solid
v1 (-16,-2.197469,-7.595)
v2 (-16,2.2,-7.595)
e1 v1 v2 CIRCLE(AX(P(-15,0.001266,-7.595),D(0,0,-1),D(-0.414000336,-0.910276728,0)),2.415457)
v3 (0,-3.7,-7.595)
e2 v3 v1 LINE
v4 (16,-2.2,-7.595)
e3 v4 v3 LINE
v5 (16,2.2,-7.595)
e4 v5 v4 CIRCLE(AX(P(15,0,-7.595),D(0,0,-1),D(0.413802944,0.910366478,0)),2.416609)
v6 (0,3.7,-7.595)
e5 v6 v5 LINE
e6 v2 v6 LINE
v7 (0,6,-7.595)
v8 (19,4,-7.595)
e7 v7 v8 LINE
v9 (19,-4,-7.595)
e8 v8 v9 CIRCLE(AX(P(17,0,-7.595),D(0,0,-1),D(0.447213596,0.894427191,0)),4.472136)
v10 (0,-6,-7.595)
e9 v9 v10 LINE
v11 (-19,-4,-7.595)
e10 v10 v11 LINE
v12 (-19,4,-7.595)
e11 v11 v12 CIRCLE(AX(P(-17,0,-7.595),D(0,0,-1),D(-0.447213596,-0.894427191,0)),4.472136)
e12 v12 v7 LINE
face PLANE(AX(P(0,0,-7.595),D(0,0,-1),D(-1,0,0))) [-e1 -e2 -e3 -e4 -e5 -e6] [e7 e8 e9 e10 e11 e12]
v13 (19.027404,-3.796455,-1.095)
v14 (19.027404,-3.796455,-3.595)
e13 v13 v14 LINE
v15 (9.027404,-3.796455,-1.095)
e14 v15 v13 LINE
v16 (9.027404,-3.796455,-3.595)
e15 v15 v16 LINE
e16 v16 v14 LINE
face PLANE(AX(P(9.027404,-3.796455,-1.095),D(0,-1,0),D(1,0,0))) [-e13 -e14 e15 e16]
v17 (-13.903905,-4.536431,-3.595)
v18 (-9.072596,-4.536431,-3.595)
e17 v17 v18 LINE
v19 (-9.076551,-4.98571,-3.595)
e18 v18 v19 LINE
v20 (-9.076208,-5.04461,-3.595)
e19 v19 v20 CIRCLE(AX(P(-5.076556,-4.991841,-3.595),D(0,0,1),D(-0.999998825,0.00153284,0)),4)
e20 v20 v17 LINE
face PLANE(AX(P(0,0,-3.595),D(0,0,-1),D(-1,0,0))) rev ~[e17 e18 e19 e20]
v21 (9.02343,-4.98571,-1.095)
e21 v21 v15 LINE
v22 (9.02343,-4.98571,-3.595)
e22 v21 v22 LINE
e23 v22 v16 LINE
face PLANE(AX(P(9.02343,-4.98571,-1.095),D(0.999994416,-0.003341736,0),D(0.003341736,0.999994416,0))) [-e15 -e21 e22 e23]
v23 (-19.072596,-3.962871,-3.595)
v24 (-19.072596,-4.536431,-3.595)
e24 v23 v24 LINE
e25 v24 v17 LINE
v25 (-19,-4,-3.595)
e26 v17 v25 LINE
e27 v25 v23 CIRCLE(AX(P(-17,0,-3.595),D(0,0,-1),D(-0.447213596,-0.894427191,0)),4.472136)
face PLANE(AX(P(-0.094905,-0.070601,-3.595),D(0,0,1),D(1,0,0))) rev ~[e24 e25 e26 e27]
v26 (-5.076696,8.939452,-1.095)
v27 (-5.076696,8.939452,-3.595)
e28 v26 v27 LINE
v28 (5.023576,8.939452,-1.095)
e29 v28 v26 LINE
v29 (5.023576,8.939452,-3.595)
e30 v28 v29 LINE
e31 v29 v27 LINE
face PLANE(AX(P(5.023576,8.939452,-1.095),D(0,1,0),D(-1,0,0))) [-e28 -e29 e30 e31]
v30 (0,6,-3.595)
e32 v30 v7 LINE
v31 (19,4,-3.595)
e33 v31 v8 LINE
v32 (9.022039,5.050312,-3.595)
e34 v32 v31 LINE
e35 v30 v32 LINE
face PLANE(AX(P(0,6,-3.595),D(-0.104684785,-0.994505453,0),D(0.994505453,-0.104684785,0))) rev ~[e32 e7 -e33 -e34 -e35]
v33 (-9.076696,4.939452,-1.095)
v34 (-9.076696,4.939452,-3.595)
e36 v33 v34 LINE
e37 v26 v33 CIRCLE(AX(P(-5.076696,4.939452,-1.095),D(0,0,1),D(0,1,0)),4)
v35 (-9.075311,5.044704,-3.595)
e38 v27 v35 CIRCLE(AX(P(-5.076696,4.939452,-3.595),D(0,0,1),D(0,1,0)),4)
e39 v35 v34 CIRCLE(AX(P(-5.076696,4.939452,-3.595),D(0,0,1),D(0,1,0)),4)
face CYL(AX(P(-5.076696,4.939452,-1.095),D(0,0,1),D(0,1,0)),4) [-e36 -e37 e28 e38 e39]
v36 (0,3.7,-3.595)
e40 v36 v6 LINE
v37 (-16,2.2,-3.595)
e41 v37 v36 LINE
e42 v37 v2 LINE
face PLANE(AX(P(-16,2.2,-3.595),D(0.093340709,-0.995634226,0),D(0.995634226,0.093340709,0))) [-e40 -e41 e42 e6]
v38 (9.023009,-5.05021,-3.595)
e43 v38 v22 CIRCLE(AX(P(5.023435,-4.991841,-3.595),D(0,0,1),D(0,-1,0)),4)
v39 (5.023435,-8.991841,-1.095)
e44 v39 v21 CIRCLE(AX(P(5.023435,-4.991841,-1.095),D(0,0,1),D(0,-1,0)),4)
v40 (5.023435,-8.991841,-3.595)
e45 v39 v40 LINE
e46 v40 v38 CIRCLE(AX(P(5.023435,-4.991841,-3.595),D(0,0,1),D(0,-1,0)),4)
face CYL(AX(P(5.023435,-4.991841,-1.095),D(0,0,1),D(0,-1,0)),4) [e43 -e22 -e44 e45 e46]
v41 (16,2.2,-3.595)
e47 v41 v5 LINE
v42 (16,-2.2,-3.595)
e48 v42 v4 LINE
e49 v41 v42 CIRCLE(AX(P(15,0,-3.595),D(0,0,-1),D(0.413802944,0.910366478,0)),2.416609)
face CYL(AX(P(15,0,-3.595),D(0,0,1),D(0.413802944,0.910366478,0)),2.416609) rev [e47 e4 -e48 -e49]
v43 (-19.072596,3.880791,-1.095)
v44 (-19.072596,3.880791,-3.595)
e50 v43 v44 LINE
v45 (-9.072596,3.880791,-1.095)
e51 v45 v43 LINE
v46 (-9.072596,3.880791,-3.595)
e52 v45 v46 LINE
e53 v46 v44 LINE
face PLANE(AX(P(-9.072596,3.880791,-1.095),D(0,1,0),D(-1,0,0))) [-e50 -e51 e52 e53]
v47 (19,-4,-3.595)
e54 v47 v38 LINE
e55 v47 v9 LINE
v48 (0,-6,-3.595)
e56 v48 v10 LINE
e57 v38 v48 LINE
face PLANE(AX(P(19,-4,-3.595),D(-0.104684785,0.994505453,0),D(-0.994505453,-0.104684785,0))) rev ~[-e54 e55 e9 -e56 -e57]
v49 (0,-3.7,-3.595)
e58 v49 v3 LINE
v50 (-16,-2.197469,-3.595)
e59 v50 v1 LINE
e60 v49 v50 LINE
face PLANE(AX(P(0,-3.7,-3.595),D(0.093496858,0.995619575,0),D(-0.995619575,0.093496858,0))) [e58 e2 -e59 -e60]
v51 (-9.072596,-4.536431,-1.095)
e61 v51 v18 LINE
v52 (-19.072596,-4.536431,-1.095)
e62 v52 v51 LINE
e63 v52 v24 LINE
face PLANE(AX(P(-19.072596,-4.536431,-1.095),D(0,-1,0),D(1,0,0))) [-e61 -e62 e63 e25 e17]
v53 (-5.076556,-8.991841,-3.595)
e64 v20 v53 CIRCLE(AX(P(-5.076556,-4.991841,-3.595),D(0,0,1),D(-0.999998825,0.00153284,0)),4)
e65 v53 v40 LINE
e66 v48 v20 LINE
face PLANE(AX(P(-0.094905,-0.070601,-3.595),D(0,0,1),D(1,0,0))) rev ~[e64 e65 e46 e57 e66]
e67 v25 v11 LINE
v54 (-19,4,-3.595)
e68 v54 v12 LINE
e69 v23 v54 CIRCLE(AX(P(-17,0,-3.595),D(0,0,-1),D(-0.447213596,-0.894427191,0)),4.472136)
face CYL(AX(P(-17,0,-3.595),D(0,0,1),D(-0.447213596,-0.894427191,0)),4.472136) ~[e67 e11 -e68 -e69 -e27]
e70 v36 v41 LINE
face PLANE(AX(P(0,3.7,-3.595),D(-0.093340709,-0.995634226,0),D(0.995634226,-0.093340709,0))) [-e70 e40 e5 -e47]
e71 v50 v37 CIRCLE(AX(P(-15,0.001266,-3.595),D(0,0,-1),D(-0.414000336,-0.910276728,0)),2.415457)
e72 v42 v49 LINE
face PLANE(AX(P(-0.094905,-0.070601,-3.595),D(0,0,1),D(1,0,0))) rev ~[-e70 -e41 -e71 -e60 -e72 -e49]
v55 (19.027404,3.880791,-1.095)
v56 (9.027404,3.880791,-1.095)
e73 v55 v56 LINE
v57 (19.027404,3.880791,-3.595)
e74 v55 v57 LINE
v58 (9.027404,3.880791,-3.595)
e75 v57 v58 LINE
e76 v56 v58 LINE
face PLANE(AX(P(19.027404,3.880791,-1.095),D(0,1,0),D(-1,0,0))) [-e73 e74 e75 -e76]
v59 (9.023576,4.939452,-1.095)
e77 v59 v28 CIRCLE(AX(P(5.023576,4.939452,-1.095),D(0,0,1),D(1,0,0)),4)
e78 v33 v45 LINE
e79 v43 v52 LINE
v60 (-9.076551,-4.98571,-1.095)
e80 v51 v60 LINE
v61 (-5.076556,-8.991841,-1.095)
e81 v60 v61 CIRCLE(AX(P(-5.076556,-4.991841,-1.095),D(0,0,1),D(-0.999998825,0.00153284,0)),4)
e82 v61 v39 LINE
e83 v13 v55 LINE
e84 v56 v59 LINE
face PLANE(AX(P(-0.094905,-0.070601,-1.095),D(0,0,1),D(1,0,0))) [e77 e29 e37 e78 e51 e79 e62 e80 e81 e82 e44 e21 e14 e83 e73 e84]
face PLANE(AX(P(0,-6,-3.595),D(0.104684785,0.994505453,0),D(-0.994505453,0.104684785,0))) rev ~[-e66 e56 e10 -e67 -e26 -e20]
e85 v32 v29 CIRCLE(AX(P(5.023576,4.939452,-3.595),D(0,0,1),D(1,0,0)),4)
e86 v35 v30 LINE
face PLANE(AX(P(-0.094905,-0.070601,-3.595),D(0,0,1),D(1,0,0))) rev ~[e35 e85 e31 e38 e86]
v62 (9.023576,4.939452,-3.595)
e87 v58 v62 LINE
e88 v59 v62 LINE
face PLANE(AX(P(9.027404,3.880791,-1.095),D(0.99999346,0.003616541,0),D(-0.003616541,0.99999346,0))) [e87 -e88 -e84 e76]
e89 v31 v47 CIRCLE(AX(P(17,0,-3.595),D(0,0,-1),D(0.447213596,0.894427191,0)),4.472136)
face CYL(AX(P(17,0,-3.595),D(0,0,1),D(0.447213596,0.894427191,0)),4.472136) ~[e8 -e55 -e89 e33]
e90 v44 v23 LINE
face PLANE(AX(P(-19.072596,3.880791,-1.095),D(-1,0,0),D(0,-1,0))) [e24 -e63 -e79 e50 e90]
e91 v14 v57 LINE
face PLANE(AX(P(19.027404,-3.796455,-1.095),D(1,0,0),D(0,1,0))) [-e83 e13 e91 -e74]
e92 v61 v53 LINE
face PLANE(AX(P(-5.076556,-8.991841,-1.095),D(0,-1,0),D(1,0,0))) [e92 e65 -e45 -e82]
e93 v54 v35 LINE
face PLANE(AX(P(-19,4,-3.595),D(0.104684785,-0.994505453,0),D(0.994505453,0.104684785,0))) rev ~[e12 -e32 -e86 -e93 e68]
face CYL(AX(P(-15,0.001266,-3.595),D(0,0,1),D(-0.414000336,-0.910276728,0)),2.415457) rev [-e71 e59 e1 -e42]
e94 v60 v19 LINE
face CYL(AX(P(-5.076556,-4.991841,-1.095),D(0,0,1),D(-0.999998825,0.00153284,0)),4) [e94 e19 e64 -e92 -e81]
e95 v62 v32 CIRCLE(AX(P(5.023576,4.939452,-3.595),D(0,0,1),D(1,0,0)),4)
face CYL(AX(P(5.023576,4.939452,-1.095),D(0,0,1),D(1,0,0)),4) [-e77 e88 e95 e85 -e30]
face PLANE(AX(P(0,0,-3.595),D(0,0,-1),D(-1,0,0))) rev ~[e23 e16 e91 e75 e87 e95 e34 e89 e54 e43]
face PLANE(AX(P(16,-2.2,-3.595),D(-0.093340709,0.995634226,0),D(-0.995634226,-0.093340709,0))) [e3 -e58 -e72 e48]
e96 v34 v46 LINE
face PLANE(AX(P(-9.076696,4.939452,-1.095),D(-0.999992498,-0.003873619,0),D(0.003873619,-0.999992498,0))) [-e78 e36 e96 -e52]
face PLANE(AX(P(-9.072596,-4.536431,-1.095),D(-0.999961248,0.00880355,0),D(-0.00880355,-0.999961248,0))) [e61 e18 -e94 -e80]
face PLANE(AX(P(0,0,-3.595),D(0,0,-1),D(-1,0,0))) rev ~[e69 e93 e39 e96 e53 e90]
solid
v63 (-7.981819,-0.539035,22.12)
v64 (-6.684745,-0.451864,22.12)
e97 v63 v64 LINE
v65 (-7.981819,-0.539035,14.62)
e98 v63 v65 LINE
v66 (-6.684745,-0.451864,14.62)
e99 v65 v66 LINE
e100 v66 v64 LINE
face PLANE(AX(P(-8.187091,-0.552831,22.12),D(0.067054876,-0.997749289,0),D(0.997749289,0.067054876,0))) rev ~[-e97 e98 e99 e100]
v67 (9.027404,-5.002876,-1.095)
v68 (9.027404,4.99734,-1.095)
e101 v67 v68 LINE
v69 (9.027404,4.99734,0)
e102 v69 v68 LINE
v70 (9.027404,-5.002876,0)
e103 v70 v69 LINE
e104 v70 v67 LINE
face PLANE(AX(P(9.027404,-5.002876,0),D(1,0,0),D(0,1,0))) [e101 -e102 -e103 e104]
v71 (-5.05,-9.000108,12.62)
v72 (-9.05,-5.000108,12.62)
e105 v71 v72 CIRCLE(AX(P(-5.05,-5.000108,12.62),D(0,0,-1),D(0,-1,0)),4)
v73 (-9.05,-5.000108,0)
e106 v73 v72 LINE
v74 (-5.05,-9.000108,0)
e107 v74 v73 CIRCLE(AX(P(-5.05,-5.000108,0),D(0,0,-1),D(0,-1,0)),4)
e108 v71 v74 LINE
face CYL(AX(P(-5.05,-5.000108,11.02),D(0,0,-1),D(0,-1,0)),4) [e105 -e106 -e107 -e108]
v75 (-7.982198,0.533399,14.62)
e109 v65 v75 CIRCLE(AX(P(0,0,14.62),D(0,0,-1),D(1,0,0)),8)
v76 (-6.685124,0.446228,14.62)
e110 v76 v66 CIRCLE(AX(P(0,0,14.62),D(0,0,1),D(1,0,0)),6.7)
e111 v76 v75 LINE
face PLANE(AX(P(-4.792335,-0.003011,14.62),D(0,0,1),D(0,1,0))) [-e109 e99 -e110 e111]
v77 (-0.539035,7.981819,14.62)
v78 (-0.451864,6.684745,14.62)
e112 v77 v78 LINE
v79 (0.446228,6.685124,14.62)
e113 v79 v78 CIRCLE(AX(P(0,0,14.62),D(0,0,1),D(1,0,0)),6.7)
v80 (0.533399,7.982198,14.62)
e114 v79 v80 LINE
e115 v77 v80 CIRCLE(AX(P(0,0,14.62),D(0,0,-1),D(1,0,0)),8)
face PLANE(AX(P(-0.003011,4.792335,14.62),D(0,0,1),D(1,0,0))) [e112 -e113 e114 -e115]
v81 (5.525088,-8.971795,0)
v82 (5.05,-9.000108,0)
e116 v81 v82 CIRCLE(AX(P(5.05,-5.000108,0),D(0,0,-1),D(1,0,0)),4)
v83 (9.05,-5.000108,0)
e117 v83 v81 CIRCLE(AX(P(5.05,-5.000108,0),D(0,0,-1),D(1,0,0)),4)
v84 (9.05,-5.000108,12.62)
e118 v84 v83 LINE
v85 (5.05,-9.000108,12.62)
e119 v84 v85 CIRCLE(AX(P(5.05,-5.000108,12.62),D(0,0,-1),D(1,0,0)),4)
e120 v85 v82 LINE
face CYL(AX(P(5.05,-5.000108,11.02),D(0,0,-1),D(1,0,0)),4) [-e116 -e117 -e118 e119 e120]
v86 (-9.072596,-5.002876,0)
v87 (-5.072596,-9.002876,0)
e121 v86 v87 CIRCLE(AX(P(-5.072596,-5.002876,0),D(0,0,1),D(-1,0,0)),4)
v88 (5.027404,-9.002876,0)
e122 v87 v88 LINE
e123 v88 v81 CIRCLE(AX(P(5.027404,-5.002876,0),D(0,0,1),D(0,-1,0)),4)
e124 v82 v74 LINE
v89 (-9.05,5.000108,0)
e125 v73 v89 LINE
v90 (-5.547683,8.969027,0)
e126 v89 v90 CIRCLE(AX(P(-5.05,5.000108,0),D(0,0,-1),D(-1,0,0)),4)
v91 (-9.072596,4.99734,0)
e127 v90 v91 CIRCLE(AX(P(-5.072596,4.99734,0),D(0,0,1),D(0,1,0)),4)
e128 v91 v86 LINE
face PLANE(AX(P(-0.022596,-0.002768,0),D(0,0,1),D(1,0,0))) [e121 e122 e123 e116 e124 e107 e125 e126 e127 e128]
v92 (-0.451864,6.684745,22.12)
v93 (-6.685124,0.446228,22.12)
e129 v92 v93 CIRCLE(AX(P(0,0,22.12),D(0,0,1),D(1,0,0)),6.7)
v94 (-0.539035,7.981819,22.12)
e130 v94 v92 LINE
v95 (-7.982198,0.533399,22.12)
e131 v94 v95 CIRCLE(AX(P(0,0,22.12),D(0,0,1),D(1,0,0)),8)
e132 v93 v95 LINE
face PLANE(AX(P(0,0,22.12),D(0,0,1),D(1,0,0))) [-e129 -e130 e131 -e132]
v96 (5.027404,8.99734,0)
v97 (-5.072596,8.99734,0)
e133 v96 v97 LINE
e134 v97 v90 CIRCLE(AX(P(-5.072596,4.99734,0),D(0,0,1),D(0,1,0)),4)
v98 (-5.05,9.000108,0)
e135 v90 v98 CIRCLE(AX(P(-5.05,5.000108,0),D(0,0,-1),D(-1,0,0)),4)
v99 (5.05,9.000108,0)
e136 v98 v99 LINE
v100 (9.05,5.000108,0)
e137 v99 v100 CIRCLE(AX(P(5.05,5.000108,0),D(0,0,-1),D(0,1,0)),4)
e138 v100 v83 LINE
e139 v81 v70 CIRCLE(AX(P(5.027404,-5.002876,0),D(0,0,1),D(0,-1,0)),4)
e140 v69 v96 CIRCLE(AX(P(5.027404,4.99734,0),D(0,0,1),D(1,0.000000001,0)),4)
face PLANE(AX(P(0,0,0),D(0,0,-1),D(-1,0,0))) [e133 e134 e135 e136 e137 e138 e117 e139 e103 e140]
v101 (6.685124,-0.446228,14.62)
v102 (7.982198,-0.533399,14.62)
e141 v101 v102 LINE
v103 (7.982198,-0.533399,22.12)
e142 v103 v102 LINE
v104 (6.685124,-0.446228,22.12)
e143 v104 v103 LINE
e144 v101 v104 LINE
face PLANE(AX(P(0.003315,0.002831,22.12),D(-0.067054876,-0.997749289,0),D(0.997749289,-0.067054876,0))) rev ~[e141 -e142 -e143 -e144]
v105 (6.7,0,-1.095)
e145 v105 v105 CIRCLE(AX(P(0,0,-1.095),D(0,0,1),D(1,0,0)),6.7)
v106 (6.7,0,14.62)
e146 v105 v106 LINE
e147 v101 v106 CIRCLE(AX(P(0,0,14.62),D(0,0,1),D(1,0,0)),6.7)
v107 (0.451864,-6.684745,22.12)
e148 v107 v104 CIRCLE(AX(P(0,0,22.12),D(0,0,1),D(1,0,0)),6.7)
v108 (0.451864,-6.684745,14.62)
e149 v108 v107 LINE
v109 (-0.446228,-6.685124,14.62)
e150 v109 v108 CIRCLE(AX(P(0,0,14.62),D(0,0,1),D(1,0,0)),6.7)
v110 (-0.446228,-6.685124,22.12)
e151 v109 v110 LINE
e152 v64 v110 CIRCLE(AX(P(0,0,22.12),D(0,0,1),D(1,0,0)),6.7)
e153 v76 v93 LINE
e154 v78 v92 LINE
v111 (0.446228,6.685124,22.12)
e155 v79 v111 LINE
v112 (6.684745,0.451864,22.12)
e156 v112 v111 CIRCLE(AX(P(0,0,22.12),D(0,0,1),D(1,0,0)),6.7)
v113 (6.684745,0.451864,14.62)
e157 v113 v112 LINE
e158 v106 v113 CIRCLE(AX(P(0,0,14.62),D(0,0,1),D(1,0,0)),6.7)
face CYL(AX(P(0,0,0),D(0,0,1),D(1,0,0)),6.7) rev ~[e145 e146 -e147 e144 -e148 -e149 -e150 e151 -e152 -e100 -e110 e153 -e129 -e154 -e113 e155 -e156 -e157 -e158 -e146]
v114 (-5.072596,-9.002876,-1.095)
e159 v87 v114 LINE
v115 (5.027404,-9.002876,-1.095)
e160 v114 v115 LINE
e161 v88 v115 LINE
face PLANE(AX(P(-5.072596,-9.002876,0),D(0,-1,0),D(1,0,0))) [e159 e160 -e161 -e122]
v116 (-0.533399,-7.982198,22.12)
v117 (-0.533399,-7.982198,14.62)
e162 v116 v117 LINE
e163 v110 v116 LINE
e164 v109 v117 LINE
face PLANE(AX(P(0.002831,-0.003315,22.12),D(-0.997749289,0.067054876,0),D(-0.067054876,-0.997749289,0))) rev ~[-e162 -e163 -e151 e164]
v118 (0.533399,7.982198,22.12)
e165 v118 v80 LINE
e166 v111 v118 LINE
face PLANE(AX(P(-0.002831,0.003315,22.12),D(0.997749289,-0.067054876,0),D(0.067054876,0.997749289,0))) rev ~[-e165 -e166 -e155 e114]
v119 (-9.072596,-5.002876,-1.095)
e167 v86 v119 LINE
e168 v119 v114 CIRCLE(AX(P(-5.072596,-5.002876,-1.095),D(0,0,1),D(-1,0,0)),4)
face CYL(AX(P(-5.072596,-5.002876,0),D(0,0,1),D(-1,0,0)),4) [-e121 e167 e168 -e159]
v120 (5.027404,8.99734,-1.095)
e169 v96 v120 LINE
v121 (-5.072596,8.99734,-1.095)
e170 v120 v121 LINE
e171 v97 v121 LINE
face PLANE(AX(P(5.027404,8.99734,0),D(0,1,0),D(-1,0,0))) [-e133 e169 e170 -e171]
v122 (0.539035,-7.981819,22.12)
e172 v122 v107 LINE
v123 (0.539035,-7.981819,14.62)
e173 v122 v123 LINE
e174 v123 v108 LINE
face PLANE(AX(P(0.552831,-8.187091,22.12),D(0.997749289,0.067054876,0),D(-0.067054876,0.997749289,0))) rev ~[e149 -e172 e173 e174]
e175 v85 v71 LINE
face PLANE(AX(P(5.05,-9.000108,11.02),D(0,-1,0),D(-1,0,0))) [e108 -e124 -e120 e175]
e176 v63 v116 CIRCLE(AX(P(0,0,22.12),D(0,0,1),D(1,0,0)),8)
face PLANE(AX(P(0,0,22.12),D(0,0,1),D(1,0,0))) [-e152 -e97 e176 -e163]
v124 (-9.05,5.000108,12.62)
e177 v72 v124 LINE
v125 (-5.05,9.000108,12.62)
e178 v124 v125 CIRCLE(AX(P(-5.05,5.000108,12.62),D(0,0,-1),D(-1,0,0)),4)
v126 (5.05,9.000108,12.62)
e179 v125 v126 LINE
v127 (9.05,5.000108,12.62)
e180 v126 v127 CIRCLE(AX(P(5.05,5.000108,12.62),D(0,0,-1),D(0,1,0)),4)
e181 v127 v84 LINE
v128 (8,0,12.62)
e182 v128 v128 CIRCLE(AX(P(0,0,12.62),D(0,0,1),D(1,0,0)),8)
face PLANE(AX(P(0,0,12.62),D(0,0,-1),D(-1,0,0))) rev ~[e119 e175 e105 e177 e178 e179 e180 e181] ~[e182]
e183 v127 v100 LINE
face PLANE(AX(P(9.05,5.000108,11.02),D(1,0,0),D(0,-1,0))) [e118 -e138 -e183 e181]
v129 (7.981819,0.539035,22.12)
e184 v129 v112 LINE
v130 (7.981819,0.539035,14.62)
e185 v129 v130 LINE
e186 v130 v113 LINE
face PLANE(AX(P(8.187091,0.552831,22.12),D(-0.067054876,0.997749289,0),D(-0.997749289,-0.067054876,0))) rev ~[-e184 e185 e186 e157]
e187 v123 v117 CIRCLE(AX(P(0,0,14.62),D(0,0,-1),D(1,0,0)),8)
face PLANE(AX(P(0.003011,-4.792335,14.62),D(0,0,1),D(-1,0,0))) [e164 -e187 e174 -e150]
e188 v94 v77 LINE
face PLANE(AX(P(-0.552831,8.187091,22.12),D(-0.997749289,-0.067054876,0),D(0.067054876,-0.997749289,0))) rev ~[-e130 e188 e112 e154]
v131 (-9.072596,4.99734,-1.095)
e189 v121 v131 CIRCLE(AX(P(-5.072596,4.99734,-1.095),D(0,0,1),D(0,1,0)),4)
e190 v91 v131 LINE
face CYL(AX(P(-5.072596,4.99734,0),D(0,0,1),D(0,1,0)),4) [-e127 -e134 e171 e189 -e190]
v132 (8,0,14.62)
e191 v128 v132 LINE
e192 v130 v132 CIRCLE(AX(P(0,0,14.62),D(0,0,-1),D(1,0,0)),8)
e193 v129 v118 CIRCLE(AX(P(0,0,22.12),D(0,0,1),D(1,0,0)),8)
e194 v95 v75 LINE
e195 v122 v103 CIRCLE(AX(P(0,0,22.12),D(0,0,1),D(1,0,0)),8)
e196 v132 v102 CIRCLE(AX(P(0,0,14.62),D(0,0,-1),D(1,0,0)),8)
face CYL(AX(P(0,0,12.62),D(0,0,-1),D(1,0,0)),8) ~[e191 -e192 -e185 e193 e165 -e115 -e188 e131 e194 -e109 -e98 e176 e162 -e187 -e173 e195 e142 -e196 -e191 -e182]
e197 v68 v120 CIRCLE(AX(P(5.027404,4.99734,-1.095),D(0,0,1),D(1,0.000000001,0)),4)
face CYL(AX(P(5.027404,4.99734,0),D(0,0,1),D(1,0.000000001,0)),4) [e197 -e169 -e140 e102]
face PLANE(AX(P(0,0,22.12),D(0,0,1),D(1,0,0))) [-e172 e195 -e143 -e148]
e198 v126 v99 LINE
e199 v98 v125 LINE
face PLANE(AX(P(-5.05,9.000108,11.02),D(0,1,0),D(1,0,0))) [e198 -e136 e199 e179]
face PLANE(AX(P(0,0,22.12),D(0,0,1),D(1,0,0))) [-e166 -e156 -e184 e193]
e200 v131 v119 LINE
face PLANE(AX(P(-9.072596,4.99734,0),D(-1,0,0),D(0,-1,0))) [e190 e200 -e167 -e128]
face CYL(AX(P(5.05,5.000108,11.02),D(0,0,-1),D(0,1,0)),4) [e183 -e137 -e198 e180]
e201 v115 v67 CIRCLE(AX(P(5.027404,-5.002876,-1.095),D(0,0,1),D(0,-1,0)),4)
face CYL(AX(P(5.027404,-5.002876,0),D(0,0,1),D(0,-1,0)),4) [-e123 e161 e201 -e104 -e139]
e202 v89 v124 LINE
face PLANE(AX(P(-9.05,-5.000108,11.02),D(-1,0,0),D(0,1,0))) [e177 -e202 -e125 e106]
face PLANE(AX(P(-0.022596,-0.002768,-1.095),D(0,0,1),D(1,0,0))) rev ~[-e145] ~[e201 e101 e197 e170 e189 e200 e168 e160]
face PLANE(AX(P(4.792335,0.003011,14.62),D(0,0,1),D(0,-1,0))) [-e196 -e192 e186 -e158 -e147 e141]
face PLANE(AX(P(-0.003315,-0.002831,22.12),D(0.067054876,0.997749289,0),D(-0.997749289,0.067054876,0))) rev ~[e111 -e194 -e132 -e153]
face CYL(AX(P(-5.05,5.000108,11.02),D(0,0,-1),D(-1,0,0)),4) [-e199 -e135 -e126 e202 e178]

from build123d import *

# Parameters (mm, degrees)
BOSS_EXTRUDE1_DEPTH = 2
BOSS_EXTRUDE2_DEPTH = 11.02
BOSS_EXTRUDE3_DEPTH = 1.6
SKETCH4_R           = 8
BOSS_EXTRUDE4_DEPTH = 9.5
SKETCH5_R           = 6.65
CUT_EXTRUDE1_DEPTH  = 20
BOSS_EXTRUDE5_DEPTH = 1.095
SKETCH13_R          = 6.7
CUT_EXTRUDE3_DEPTH  = 30
CUT_EXTRUDE4_DEPTH  = 7.5
CIRPATTERN2_COUNT   = 4
BOSS_EXTRUDE6_DEPTH = 2.5
BOSS_EXTRUDE7_DEPTH = 4


with BuildPart() as part:
    # Sketch1 → Boss-Extrude1 (new body)
    with BuildSketch(Plane.XY):
        with BuildLine():
            Line((-5.05, 9.000108401), (5.05, 9.000108401))
            ThreePointArc((5.05, 9.000108401), (7.878427125, 7.828535526), (9.05, 5.000108401))
            Line((9.05, 5.000108401), (9.05, -5.000108401))
            ThreePointArc((9.05, -5.000108401), (7.878427125, -7.828535526), (5.05, -9.000108401))
            Line((5.05, -9.000108401), (-5.05, -9.000108401))
            ThreePointArc((-5.05, -9.000108401), (-7.878427125, -7.828535526), (-9.05, -5.000108401))
            Line((-9.05, -5.000108401), (-9.05, 5.000108401))
            ThreePointArc((-9.05, 5.000108401), (-7.878427125, 7.828535526), (-5.05, 9.000108401))
        make_face()
    extrude(amount=BOSS_EXTRUDE1_DEPTH)

    # Sketch2 → Boss-Extrude2 (add)
    with BuildSketch(Plane.XY):
        with BuildLine():
            Line((-5.05, 9.000108401), (5.05, 9.000108401))
            ThreePointArc((5.05, 9.000108401), (7.878427125, 7.828535526), (9.05, 5.000108401))
            Line((9.05, 5.000108401), (9.05, -5.000108401))
            ThreePointArc((9.05, -5.000108401), (7.878427125, -7.828535526), (5.05, -9.000108401))
            Line((5.05, -9.000108401), (-5.05, -9.000108401))
            ThreePointArc((-5.05, -9.000108401), (-7.878427125, -7.828535526), (-9.05, -5.000108401))
            Line((-9.05, -5.000108401), (-9.05, 5.000108401))
            ThreePointArc((-9.05, 5.000108401), (-7.878427125, 7.828535526), (-5.05, 9.000108401))
        make_face()
    extrude(amount=BOSS_EXTRUDE2_DEPTH)

    # Sketch3 → Boss-Extrude3 (add)
    with BuildSketch(Plane.XY.offset(11.02)):
        with BuildLine():
            Line((-5.05, 9.000108401), (5.05, 9.000108401))
            ThreePointArc((5.05, 9.000108401), (7.878427125, 7.828535526), (9.05, 5.000108401))
            Line((9.05, 5.000108401), (9.05, -5.000108401))
            ThreePointArc((9.05, -5.000108401), (7.878427125, -7.828535526), (5.05, -9.000108401))
            Line((5.05, -9.000108401), (-5.05, -9.000108401))
            ThreePointArc((-5.05, -9.000108401), (-7.878427125, -7.828535526), (-9.05, -5.000108401))
            Line((-9.05, -5.000108401), (-9.05, 5.000108401))
            ThreePointArc((-9.05, 5.000108401), (-7.878427125, 7.828535526), (-5.05, 9.000108401))
        make_face()
    extrude(amount=BOSS_EXTRUDE3_DEPTH)

    # Sketch4 → Boss-Extrude4 (add)
    with BuildSketch(Plane.XY.offset(12.62)):
        Circle(SKETCH4_R)
    extrude(amount=BOSS_EXTRUDE4_DEPTH)

    # Sketch5 → Cut-Extrude1 (cut)
    with BuildSketch(Plane.XY.offset(12.62)):
        Circle(SKETCH5_R)
    extrude(amount=CUT_EXTRUDE1_DEPTH, mode=Mode.SUBTRACT)

    # Sketch12 → Boss-Extrude5 (add)
    with BuildSketch(Plane(origin=(0, 0, 0), x_dir=(-1, 0, 0), z_dir=(0, 0, -1))):
        with BuildLine():
            Line((-5.027404416, 8.997340309), (5.072595584, 8.997340309))
            ThreePointArc((5.072595584, 8.997340309), (7.901022709, 7.825767433), (9.072595584, 4.997340309))
            Line((9.072595584, 4.997340309), (9.072595584, -5.002876493))
            ThreePointArc((9.072595584, -5.002876493), (7.901022709, -7.831303618), (5.072595584, -9.002876493))
            Line((5.072595584, -9.002876493), (-5.027404416, -9.002876493))
            ThreePointArc((-5.027404416, -9.002876493), (-7.85583154, -7.831303618), (-9.027404416, -5.002876493))
            Line((-9.027404416, -5.002876493), (-9.027404416, 4.997340309))
            ThreePointArc((-9.027404416, 4.997340309), (-7.85583154, 7.825767433), (-5.027404416, 8.997340309))
        make_face()
    extrude(amount=BOSS_EXTRUDE5_DEPTH)

    # Sketch13 → Cut-Extrude3 (cut, symmetric)
    with BuildSketch(Plane.XY):
        Circle(SKETCH13_R)
    extrude(amount=CUT_EXTRUDE3_DEPTH, both=True, mode=Mode.SUBTRACT)

    # Sketch15 → Cut-Extrude4 (cut)
    with BuildSketch(Plane.XY.offset(22.12)):
        Polygon((-0.552830798, 8.187091014), (-0.002830798, 0.003314653), (0.547169202, 8.187091014), (0.617169202, 9.000108401), (-0.626042329, 9.000108401), align=None)
    cut_extrude4 = extrude(amount=-CUT_EXTRUDE4_DEPTH, mode=Mode.SUBTRACT)

    # CirPattern2: Cut-Extrude4 ×4 about axis
    cirpattern2_axis = Axis((0, 0, 0), (0, 0, 1))
    for i in range(1, CIRPATTERN2_COUNT):
        add(cut_extrude4.rotate(cirpattern2_axis, i * 360 / CIRPATTERN2_COUNT), mode=Mode.SUBTRACT)


with BuildPart() as body_2:
    # Sketch16 → Boss-Extrude6 (new body)
    with BuildSketch(Plane(origin=(0, 0, -1.095), x_dir=(-1, 0, 0), z_dir=(0, 0, -1))):
        with BuildLine():
            Line((-5.0235757, 8.939451881), (5.076696464, 8.939451881))
            ThreePointArc((5.076696464, 8.939451881), (7.905123589, 7.767879006), (9.076696464, 4.939451881))
            Line((9.076696464, 4.939451881), (9.072595584, 3.880790969))
            Line((9.072595584, 3.880790969), (19.072595584, 3.880790969))
            Line((19.072595584, 3.880790969), (19.072595584, -4.536431038))
            Line((19.072595584, -4.536431038), (9.072595584, -4.536431038))
            Line((9.072595584, -4.536431038), (9.076550984, -4.98570964))
            ThreePointArc((9.076550984, -4.98570964), (7.907149741, -7.818099531), (5.076555683, -8.991841001))
            Line((5.076555683, -8.991841001), (-5.023434919, -8.991841001))
            ThreePointArc((-5.023434919, -8.991841001), (-7.854028977, -7.818099531), (-9.02343022, -4.98570964))
            Line((-9.02343022, -4.98570964), (-9.027404416, -3.796455477))
            Line((-9.027404416, -3.796455477), (-19.027404416, -3.796455477))
            Line((-19.027404416, -3.796455477), (-19.027404416, 3.880790969))
            Line((-19.027404416, 3.880790969), (-9.027404416, 3.880790969))
            Line((-9.027404416, 3.880790969), (-9.0235757, 4.939451881))
            ThreePointArc((-9.0235757, 4.939451881), (-7.852002825, 7.767879006), (-5.0235757, 8.939451881))
        make_face()
    extrude(amount=BOSS_EXTRUDE6_DEPTH)

    # Sketch17 → Boss-Extrude7 (add)
    with BuildSketch(Plane(origin=(0, 0, -3.595), x_dir=(-1, 0, 0), z_dir=(0, 0, -1))):
        with BuildLine():
            Line((0, 6), (-19, 4))
            ThreePointArc((-19, 4), (-21.472135955, 0), (-19, -4))
            Line((-19, -4), (0, -6))
            Line((0, -6), (19, -4))
            ThreePointArc((19, -4), (21.472135955, 0), (19, 4))
            Line((19, 4), (0, 6))
        make_face()
        with BuildLine():
            Line((0, 3.7), (-16, 2.2))
            ThreePointArc((-16, 2.2), (-17.416609195, 0), (-16, -2.2))
            Line((-16, -2.2), (0, -3.7))
            Line((0, -3.7), (16, -2.197468551))
            ThreePointArc((16, -2.197468551), (17.415456978, 0.001265724), (16, 2.2))
            Line((16, 2.2), (0, 3.7))
        make_face(mode=Mode.SUBTRACT)
    extrude(amount=BOSS_EXTRUDE7_DEPTH)


solid = Compound([part.part, body_2.part])
